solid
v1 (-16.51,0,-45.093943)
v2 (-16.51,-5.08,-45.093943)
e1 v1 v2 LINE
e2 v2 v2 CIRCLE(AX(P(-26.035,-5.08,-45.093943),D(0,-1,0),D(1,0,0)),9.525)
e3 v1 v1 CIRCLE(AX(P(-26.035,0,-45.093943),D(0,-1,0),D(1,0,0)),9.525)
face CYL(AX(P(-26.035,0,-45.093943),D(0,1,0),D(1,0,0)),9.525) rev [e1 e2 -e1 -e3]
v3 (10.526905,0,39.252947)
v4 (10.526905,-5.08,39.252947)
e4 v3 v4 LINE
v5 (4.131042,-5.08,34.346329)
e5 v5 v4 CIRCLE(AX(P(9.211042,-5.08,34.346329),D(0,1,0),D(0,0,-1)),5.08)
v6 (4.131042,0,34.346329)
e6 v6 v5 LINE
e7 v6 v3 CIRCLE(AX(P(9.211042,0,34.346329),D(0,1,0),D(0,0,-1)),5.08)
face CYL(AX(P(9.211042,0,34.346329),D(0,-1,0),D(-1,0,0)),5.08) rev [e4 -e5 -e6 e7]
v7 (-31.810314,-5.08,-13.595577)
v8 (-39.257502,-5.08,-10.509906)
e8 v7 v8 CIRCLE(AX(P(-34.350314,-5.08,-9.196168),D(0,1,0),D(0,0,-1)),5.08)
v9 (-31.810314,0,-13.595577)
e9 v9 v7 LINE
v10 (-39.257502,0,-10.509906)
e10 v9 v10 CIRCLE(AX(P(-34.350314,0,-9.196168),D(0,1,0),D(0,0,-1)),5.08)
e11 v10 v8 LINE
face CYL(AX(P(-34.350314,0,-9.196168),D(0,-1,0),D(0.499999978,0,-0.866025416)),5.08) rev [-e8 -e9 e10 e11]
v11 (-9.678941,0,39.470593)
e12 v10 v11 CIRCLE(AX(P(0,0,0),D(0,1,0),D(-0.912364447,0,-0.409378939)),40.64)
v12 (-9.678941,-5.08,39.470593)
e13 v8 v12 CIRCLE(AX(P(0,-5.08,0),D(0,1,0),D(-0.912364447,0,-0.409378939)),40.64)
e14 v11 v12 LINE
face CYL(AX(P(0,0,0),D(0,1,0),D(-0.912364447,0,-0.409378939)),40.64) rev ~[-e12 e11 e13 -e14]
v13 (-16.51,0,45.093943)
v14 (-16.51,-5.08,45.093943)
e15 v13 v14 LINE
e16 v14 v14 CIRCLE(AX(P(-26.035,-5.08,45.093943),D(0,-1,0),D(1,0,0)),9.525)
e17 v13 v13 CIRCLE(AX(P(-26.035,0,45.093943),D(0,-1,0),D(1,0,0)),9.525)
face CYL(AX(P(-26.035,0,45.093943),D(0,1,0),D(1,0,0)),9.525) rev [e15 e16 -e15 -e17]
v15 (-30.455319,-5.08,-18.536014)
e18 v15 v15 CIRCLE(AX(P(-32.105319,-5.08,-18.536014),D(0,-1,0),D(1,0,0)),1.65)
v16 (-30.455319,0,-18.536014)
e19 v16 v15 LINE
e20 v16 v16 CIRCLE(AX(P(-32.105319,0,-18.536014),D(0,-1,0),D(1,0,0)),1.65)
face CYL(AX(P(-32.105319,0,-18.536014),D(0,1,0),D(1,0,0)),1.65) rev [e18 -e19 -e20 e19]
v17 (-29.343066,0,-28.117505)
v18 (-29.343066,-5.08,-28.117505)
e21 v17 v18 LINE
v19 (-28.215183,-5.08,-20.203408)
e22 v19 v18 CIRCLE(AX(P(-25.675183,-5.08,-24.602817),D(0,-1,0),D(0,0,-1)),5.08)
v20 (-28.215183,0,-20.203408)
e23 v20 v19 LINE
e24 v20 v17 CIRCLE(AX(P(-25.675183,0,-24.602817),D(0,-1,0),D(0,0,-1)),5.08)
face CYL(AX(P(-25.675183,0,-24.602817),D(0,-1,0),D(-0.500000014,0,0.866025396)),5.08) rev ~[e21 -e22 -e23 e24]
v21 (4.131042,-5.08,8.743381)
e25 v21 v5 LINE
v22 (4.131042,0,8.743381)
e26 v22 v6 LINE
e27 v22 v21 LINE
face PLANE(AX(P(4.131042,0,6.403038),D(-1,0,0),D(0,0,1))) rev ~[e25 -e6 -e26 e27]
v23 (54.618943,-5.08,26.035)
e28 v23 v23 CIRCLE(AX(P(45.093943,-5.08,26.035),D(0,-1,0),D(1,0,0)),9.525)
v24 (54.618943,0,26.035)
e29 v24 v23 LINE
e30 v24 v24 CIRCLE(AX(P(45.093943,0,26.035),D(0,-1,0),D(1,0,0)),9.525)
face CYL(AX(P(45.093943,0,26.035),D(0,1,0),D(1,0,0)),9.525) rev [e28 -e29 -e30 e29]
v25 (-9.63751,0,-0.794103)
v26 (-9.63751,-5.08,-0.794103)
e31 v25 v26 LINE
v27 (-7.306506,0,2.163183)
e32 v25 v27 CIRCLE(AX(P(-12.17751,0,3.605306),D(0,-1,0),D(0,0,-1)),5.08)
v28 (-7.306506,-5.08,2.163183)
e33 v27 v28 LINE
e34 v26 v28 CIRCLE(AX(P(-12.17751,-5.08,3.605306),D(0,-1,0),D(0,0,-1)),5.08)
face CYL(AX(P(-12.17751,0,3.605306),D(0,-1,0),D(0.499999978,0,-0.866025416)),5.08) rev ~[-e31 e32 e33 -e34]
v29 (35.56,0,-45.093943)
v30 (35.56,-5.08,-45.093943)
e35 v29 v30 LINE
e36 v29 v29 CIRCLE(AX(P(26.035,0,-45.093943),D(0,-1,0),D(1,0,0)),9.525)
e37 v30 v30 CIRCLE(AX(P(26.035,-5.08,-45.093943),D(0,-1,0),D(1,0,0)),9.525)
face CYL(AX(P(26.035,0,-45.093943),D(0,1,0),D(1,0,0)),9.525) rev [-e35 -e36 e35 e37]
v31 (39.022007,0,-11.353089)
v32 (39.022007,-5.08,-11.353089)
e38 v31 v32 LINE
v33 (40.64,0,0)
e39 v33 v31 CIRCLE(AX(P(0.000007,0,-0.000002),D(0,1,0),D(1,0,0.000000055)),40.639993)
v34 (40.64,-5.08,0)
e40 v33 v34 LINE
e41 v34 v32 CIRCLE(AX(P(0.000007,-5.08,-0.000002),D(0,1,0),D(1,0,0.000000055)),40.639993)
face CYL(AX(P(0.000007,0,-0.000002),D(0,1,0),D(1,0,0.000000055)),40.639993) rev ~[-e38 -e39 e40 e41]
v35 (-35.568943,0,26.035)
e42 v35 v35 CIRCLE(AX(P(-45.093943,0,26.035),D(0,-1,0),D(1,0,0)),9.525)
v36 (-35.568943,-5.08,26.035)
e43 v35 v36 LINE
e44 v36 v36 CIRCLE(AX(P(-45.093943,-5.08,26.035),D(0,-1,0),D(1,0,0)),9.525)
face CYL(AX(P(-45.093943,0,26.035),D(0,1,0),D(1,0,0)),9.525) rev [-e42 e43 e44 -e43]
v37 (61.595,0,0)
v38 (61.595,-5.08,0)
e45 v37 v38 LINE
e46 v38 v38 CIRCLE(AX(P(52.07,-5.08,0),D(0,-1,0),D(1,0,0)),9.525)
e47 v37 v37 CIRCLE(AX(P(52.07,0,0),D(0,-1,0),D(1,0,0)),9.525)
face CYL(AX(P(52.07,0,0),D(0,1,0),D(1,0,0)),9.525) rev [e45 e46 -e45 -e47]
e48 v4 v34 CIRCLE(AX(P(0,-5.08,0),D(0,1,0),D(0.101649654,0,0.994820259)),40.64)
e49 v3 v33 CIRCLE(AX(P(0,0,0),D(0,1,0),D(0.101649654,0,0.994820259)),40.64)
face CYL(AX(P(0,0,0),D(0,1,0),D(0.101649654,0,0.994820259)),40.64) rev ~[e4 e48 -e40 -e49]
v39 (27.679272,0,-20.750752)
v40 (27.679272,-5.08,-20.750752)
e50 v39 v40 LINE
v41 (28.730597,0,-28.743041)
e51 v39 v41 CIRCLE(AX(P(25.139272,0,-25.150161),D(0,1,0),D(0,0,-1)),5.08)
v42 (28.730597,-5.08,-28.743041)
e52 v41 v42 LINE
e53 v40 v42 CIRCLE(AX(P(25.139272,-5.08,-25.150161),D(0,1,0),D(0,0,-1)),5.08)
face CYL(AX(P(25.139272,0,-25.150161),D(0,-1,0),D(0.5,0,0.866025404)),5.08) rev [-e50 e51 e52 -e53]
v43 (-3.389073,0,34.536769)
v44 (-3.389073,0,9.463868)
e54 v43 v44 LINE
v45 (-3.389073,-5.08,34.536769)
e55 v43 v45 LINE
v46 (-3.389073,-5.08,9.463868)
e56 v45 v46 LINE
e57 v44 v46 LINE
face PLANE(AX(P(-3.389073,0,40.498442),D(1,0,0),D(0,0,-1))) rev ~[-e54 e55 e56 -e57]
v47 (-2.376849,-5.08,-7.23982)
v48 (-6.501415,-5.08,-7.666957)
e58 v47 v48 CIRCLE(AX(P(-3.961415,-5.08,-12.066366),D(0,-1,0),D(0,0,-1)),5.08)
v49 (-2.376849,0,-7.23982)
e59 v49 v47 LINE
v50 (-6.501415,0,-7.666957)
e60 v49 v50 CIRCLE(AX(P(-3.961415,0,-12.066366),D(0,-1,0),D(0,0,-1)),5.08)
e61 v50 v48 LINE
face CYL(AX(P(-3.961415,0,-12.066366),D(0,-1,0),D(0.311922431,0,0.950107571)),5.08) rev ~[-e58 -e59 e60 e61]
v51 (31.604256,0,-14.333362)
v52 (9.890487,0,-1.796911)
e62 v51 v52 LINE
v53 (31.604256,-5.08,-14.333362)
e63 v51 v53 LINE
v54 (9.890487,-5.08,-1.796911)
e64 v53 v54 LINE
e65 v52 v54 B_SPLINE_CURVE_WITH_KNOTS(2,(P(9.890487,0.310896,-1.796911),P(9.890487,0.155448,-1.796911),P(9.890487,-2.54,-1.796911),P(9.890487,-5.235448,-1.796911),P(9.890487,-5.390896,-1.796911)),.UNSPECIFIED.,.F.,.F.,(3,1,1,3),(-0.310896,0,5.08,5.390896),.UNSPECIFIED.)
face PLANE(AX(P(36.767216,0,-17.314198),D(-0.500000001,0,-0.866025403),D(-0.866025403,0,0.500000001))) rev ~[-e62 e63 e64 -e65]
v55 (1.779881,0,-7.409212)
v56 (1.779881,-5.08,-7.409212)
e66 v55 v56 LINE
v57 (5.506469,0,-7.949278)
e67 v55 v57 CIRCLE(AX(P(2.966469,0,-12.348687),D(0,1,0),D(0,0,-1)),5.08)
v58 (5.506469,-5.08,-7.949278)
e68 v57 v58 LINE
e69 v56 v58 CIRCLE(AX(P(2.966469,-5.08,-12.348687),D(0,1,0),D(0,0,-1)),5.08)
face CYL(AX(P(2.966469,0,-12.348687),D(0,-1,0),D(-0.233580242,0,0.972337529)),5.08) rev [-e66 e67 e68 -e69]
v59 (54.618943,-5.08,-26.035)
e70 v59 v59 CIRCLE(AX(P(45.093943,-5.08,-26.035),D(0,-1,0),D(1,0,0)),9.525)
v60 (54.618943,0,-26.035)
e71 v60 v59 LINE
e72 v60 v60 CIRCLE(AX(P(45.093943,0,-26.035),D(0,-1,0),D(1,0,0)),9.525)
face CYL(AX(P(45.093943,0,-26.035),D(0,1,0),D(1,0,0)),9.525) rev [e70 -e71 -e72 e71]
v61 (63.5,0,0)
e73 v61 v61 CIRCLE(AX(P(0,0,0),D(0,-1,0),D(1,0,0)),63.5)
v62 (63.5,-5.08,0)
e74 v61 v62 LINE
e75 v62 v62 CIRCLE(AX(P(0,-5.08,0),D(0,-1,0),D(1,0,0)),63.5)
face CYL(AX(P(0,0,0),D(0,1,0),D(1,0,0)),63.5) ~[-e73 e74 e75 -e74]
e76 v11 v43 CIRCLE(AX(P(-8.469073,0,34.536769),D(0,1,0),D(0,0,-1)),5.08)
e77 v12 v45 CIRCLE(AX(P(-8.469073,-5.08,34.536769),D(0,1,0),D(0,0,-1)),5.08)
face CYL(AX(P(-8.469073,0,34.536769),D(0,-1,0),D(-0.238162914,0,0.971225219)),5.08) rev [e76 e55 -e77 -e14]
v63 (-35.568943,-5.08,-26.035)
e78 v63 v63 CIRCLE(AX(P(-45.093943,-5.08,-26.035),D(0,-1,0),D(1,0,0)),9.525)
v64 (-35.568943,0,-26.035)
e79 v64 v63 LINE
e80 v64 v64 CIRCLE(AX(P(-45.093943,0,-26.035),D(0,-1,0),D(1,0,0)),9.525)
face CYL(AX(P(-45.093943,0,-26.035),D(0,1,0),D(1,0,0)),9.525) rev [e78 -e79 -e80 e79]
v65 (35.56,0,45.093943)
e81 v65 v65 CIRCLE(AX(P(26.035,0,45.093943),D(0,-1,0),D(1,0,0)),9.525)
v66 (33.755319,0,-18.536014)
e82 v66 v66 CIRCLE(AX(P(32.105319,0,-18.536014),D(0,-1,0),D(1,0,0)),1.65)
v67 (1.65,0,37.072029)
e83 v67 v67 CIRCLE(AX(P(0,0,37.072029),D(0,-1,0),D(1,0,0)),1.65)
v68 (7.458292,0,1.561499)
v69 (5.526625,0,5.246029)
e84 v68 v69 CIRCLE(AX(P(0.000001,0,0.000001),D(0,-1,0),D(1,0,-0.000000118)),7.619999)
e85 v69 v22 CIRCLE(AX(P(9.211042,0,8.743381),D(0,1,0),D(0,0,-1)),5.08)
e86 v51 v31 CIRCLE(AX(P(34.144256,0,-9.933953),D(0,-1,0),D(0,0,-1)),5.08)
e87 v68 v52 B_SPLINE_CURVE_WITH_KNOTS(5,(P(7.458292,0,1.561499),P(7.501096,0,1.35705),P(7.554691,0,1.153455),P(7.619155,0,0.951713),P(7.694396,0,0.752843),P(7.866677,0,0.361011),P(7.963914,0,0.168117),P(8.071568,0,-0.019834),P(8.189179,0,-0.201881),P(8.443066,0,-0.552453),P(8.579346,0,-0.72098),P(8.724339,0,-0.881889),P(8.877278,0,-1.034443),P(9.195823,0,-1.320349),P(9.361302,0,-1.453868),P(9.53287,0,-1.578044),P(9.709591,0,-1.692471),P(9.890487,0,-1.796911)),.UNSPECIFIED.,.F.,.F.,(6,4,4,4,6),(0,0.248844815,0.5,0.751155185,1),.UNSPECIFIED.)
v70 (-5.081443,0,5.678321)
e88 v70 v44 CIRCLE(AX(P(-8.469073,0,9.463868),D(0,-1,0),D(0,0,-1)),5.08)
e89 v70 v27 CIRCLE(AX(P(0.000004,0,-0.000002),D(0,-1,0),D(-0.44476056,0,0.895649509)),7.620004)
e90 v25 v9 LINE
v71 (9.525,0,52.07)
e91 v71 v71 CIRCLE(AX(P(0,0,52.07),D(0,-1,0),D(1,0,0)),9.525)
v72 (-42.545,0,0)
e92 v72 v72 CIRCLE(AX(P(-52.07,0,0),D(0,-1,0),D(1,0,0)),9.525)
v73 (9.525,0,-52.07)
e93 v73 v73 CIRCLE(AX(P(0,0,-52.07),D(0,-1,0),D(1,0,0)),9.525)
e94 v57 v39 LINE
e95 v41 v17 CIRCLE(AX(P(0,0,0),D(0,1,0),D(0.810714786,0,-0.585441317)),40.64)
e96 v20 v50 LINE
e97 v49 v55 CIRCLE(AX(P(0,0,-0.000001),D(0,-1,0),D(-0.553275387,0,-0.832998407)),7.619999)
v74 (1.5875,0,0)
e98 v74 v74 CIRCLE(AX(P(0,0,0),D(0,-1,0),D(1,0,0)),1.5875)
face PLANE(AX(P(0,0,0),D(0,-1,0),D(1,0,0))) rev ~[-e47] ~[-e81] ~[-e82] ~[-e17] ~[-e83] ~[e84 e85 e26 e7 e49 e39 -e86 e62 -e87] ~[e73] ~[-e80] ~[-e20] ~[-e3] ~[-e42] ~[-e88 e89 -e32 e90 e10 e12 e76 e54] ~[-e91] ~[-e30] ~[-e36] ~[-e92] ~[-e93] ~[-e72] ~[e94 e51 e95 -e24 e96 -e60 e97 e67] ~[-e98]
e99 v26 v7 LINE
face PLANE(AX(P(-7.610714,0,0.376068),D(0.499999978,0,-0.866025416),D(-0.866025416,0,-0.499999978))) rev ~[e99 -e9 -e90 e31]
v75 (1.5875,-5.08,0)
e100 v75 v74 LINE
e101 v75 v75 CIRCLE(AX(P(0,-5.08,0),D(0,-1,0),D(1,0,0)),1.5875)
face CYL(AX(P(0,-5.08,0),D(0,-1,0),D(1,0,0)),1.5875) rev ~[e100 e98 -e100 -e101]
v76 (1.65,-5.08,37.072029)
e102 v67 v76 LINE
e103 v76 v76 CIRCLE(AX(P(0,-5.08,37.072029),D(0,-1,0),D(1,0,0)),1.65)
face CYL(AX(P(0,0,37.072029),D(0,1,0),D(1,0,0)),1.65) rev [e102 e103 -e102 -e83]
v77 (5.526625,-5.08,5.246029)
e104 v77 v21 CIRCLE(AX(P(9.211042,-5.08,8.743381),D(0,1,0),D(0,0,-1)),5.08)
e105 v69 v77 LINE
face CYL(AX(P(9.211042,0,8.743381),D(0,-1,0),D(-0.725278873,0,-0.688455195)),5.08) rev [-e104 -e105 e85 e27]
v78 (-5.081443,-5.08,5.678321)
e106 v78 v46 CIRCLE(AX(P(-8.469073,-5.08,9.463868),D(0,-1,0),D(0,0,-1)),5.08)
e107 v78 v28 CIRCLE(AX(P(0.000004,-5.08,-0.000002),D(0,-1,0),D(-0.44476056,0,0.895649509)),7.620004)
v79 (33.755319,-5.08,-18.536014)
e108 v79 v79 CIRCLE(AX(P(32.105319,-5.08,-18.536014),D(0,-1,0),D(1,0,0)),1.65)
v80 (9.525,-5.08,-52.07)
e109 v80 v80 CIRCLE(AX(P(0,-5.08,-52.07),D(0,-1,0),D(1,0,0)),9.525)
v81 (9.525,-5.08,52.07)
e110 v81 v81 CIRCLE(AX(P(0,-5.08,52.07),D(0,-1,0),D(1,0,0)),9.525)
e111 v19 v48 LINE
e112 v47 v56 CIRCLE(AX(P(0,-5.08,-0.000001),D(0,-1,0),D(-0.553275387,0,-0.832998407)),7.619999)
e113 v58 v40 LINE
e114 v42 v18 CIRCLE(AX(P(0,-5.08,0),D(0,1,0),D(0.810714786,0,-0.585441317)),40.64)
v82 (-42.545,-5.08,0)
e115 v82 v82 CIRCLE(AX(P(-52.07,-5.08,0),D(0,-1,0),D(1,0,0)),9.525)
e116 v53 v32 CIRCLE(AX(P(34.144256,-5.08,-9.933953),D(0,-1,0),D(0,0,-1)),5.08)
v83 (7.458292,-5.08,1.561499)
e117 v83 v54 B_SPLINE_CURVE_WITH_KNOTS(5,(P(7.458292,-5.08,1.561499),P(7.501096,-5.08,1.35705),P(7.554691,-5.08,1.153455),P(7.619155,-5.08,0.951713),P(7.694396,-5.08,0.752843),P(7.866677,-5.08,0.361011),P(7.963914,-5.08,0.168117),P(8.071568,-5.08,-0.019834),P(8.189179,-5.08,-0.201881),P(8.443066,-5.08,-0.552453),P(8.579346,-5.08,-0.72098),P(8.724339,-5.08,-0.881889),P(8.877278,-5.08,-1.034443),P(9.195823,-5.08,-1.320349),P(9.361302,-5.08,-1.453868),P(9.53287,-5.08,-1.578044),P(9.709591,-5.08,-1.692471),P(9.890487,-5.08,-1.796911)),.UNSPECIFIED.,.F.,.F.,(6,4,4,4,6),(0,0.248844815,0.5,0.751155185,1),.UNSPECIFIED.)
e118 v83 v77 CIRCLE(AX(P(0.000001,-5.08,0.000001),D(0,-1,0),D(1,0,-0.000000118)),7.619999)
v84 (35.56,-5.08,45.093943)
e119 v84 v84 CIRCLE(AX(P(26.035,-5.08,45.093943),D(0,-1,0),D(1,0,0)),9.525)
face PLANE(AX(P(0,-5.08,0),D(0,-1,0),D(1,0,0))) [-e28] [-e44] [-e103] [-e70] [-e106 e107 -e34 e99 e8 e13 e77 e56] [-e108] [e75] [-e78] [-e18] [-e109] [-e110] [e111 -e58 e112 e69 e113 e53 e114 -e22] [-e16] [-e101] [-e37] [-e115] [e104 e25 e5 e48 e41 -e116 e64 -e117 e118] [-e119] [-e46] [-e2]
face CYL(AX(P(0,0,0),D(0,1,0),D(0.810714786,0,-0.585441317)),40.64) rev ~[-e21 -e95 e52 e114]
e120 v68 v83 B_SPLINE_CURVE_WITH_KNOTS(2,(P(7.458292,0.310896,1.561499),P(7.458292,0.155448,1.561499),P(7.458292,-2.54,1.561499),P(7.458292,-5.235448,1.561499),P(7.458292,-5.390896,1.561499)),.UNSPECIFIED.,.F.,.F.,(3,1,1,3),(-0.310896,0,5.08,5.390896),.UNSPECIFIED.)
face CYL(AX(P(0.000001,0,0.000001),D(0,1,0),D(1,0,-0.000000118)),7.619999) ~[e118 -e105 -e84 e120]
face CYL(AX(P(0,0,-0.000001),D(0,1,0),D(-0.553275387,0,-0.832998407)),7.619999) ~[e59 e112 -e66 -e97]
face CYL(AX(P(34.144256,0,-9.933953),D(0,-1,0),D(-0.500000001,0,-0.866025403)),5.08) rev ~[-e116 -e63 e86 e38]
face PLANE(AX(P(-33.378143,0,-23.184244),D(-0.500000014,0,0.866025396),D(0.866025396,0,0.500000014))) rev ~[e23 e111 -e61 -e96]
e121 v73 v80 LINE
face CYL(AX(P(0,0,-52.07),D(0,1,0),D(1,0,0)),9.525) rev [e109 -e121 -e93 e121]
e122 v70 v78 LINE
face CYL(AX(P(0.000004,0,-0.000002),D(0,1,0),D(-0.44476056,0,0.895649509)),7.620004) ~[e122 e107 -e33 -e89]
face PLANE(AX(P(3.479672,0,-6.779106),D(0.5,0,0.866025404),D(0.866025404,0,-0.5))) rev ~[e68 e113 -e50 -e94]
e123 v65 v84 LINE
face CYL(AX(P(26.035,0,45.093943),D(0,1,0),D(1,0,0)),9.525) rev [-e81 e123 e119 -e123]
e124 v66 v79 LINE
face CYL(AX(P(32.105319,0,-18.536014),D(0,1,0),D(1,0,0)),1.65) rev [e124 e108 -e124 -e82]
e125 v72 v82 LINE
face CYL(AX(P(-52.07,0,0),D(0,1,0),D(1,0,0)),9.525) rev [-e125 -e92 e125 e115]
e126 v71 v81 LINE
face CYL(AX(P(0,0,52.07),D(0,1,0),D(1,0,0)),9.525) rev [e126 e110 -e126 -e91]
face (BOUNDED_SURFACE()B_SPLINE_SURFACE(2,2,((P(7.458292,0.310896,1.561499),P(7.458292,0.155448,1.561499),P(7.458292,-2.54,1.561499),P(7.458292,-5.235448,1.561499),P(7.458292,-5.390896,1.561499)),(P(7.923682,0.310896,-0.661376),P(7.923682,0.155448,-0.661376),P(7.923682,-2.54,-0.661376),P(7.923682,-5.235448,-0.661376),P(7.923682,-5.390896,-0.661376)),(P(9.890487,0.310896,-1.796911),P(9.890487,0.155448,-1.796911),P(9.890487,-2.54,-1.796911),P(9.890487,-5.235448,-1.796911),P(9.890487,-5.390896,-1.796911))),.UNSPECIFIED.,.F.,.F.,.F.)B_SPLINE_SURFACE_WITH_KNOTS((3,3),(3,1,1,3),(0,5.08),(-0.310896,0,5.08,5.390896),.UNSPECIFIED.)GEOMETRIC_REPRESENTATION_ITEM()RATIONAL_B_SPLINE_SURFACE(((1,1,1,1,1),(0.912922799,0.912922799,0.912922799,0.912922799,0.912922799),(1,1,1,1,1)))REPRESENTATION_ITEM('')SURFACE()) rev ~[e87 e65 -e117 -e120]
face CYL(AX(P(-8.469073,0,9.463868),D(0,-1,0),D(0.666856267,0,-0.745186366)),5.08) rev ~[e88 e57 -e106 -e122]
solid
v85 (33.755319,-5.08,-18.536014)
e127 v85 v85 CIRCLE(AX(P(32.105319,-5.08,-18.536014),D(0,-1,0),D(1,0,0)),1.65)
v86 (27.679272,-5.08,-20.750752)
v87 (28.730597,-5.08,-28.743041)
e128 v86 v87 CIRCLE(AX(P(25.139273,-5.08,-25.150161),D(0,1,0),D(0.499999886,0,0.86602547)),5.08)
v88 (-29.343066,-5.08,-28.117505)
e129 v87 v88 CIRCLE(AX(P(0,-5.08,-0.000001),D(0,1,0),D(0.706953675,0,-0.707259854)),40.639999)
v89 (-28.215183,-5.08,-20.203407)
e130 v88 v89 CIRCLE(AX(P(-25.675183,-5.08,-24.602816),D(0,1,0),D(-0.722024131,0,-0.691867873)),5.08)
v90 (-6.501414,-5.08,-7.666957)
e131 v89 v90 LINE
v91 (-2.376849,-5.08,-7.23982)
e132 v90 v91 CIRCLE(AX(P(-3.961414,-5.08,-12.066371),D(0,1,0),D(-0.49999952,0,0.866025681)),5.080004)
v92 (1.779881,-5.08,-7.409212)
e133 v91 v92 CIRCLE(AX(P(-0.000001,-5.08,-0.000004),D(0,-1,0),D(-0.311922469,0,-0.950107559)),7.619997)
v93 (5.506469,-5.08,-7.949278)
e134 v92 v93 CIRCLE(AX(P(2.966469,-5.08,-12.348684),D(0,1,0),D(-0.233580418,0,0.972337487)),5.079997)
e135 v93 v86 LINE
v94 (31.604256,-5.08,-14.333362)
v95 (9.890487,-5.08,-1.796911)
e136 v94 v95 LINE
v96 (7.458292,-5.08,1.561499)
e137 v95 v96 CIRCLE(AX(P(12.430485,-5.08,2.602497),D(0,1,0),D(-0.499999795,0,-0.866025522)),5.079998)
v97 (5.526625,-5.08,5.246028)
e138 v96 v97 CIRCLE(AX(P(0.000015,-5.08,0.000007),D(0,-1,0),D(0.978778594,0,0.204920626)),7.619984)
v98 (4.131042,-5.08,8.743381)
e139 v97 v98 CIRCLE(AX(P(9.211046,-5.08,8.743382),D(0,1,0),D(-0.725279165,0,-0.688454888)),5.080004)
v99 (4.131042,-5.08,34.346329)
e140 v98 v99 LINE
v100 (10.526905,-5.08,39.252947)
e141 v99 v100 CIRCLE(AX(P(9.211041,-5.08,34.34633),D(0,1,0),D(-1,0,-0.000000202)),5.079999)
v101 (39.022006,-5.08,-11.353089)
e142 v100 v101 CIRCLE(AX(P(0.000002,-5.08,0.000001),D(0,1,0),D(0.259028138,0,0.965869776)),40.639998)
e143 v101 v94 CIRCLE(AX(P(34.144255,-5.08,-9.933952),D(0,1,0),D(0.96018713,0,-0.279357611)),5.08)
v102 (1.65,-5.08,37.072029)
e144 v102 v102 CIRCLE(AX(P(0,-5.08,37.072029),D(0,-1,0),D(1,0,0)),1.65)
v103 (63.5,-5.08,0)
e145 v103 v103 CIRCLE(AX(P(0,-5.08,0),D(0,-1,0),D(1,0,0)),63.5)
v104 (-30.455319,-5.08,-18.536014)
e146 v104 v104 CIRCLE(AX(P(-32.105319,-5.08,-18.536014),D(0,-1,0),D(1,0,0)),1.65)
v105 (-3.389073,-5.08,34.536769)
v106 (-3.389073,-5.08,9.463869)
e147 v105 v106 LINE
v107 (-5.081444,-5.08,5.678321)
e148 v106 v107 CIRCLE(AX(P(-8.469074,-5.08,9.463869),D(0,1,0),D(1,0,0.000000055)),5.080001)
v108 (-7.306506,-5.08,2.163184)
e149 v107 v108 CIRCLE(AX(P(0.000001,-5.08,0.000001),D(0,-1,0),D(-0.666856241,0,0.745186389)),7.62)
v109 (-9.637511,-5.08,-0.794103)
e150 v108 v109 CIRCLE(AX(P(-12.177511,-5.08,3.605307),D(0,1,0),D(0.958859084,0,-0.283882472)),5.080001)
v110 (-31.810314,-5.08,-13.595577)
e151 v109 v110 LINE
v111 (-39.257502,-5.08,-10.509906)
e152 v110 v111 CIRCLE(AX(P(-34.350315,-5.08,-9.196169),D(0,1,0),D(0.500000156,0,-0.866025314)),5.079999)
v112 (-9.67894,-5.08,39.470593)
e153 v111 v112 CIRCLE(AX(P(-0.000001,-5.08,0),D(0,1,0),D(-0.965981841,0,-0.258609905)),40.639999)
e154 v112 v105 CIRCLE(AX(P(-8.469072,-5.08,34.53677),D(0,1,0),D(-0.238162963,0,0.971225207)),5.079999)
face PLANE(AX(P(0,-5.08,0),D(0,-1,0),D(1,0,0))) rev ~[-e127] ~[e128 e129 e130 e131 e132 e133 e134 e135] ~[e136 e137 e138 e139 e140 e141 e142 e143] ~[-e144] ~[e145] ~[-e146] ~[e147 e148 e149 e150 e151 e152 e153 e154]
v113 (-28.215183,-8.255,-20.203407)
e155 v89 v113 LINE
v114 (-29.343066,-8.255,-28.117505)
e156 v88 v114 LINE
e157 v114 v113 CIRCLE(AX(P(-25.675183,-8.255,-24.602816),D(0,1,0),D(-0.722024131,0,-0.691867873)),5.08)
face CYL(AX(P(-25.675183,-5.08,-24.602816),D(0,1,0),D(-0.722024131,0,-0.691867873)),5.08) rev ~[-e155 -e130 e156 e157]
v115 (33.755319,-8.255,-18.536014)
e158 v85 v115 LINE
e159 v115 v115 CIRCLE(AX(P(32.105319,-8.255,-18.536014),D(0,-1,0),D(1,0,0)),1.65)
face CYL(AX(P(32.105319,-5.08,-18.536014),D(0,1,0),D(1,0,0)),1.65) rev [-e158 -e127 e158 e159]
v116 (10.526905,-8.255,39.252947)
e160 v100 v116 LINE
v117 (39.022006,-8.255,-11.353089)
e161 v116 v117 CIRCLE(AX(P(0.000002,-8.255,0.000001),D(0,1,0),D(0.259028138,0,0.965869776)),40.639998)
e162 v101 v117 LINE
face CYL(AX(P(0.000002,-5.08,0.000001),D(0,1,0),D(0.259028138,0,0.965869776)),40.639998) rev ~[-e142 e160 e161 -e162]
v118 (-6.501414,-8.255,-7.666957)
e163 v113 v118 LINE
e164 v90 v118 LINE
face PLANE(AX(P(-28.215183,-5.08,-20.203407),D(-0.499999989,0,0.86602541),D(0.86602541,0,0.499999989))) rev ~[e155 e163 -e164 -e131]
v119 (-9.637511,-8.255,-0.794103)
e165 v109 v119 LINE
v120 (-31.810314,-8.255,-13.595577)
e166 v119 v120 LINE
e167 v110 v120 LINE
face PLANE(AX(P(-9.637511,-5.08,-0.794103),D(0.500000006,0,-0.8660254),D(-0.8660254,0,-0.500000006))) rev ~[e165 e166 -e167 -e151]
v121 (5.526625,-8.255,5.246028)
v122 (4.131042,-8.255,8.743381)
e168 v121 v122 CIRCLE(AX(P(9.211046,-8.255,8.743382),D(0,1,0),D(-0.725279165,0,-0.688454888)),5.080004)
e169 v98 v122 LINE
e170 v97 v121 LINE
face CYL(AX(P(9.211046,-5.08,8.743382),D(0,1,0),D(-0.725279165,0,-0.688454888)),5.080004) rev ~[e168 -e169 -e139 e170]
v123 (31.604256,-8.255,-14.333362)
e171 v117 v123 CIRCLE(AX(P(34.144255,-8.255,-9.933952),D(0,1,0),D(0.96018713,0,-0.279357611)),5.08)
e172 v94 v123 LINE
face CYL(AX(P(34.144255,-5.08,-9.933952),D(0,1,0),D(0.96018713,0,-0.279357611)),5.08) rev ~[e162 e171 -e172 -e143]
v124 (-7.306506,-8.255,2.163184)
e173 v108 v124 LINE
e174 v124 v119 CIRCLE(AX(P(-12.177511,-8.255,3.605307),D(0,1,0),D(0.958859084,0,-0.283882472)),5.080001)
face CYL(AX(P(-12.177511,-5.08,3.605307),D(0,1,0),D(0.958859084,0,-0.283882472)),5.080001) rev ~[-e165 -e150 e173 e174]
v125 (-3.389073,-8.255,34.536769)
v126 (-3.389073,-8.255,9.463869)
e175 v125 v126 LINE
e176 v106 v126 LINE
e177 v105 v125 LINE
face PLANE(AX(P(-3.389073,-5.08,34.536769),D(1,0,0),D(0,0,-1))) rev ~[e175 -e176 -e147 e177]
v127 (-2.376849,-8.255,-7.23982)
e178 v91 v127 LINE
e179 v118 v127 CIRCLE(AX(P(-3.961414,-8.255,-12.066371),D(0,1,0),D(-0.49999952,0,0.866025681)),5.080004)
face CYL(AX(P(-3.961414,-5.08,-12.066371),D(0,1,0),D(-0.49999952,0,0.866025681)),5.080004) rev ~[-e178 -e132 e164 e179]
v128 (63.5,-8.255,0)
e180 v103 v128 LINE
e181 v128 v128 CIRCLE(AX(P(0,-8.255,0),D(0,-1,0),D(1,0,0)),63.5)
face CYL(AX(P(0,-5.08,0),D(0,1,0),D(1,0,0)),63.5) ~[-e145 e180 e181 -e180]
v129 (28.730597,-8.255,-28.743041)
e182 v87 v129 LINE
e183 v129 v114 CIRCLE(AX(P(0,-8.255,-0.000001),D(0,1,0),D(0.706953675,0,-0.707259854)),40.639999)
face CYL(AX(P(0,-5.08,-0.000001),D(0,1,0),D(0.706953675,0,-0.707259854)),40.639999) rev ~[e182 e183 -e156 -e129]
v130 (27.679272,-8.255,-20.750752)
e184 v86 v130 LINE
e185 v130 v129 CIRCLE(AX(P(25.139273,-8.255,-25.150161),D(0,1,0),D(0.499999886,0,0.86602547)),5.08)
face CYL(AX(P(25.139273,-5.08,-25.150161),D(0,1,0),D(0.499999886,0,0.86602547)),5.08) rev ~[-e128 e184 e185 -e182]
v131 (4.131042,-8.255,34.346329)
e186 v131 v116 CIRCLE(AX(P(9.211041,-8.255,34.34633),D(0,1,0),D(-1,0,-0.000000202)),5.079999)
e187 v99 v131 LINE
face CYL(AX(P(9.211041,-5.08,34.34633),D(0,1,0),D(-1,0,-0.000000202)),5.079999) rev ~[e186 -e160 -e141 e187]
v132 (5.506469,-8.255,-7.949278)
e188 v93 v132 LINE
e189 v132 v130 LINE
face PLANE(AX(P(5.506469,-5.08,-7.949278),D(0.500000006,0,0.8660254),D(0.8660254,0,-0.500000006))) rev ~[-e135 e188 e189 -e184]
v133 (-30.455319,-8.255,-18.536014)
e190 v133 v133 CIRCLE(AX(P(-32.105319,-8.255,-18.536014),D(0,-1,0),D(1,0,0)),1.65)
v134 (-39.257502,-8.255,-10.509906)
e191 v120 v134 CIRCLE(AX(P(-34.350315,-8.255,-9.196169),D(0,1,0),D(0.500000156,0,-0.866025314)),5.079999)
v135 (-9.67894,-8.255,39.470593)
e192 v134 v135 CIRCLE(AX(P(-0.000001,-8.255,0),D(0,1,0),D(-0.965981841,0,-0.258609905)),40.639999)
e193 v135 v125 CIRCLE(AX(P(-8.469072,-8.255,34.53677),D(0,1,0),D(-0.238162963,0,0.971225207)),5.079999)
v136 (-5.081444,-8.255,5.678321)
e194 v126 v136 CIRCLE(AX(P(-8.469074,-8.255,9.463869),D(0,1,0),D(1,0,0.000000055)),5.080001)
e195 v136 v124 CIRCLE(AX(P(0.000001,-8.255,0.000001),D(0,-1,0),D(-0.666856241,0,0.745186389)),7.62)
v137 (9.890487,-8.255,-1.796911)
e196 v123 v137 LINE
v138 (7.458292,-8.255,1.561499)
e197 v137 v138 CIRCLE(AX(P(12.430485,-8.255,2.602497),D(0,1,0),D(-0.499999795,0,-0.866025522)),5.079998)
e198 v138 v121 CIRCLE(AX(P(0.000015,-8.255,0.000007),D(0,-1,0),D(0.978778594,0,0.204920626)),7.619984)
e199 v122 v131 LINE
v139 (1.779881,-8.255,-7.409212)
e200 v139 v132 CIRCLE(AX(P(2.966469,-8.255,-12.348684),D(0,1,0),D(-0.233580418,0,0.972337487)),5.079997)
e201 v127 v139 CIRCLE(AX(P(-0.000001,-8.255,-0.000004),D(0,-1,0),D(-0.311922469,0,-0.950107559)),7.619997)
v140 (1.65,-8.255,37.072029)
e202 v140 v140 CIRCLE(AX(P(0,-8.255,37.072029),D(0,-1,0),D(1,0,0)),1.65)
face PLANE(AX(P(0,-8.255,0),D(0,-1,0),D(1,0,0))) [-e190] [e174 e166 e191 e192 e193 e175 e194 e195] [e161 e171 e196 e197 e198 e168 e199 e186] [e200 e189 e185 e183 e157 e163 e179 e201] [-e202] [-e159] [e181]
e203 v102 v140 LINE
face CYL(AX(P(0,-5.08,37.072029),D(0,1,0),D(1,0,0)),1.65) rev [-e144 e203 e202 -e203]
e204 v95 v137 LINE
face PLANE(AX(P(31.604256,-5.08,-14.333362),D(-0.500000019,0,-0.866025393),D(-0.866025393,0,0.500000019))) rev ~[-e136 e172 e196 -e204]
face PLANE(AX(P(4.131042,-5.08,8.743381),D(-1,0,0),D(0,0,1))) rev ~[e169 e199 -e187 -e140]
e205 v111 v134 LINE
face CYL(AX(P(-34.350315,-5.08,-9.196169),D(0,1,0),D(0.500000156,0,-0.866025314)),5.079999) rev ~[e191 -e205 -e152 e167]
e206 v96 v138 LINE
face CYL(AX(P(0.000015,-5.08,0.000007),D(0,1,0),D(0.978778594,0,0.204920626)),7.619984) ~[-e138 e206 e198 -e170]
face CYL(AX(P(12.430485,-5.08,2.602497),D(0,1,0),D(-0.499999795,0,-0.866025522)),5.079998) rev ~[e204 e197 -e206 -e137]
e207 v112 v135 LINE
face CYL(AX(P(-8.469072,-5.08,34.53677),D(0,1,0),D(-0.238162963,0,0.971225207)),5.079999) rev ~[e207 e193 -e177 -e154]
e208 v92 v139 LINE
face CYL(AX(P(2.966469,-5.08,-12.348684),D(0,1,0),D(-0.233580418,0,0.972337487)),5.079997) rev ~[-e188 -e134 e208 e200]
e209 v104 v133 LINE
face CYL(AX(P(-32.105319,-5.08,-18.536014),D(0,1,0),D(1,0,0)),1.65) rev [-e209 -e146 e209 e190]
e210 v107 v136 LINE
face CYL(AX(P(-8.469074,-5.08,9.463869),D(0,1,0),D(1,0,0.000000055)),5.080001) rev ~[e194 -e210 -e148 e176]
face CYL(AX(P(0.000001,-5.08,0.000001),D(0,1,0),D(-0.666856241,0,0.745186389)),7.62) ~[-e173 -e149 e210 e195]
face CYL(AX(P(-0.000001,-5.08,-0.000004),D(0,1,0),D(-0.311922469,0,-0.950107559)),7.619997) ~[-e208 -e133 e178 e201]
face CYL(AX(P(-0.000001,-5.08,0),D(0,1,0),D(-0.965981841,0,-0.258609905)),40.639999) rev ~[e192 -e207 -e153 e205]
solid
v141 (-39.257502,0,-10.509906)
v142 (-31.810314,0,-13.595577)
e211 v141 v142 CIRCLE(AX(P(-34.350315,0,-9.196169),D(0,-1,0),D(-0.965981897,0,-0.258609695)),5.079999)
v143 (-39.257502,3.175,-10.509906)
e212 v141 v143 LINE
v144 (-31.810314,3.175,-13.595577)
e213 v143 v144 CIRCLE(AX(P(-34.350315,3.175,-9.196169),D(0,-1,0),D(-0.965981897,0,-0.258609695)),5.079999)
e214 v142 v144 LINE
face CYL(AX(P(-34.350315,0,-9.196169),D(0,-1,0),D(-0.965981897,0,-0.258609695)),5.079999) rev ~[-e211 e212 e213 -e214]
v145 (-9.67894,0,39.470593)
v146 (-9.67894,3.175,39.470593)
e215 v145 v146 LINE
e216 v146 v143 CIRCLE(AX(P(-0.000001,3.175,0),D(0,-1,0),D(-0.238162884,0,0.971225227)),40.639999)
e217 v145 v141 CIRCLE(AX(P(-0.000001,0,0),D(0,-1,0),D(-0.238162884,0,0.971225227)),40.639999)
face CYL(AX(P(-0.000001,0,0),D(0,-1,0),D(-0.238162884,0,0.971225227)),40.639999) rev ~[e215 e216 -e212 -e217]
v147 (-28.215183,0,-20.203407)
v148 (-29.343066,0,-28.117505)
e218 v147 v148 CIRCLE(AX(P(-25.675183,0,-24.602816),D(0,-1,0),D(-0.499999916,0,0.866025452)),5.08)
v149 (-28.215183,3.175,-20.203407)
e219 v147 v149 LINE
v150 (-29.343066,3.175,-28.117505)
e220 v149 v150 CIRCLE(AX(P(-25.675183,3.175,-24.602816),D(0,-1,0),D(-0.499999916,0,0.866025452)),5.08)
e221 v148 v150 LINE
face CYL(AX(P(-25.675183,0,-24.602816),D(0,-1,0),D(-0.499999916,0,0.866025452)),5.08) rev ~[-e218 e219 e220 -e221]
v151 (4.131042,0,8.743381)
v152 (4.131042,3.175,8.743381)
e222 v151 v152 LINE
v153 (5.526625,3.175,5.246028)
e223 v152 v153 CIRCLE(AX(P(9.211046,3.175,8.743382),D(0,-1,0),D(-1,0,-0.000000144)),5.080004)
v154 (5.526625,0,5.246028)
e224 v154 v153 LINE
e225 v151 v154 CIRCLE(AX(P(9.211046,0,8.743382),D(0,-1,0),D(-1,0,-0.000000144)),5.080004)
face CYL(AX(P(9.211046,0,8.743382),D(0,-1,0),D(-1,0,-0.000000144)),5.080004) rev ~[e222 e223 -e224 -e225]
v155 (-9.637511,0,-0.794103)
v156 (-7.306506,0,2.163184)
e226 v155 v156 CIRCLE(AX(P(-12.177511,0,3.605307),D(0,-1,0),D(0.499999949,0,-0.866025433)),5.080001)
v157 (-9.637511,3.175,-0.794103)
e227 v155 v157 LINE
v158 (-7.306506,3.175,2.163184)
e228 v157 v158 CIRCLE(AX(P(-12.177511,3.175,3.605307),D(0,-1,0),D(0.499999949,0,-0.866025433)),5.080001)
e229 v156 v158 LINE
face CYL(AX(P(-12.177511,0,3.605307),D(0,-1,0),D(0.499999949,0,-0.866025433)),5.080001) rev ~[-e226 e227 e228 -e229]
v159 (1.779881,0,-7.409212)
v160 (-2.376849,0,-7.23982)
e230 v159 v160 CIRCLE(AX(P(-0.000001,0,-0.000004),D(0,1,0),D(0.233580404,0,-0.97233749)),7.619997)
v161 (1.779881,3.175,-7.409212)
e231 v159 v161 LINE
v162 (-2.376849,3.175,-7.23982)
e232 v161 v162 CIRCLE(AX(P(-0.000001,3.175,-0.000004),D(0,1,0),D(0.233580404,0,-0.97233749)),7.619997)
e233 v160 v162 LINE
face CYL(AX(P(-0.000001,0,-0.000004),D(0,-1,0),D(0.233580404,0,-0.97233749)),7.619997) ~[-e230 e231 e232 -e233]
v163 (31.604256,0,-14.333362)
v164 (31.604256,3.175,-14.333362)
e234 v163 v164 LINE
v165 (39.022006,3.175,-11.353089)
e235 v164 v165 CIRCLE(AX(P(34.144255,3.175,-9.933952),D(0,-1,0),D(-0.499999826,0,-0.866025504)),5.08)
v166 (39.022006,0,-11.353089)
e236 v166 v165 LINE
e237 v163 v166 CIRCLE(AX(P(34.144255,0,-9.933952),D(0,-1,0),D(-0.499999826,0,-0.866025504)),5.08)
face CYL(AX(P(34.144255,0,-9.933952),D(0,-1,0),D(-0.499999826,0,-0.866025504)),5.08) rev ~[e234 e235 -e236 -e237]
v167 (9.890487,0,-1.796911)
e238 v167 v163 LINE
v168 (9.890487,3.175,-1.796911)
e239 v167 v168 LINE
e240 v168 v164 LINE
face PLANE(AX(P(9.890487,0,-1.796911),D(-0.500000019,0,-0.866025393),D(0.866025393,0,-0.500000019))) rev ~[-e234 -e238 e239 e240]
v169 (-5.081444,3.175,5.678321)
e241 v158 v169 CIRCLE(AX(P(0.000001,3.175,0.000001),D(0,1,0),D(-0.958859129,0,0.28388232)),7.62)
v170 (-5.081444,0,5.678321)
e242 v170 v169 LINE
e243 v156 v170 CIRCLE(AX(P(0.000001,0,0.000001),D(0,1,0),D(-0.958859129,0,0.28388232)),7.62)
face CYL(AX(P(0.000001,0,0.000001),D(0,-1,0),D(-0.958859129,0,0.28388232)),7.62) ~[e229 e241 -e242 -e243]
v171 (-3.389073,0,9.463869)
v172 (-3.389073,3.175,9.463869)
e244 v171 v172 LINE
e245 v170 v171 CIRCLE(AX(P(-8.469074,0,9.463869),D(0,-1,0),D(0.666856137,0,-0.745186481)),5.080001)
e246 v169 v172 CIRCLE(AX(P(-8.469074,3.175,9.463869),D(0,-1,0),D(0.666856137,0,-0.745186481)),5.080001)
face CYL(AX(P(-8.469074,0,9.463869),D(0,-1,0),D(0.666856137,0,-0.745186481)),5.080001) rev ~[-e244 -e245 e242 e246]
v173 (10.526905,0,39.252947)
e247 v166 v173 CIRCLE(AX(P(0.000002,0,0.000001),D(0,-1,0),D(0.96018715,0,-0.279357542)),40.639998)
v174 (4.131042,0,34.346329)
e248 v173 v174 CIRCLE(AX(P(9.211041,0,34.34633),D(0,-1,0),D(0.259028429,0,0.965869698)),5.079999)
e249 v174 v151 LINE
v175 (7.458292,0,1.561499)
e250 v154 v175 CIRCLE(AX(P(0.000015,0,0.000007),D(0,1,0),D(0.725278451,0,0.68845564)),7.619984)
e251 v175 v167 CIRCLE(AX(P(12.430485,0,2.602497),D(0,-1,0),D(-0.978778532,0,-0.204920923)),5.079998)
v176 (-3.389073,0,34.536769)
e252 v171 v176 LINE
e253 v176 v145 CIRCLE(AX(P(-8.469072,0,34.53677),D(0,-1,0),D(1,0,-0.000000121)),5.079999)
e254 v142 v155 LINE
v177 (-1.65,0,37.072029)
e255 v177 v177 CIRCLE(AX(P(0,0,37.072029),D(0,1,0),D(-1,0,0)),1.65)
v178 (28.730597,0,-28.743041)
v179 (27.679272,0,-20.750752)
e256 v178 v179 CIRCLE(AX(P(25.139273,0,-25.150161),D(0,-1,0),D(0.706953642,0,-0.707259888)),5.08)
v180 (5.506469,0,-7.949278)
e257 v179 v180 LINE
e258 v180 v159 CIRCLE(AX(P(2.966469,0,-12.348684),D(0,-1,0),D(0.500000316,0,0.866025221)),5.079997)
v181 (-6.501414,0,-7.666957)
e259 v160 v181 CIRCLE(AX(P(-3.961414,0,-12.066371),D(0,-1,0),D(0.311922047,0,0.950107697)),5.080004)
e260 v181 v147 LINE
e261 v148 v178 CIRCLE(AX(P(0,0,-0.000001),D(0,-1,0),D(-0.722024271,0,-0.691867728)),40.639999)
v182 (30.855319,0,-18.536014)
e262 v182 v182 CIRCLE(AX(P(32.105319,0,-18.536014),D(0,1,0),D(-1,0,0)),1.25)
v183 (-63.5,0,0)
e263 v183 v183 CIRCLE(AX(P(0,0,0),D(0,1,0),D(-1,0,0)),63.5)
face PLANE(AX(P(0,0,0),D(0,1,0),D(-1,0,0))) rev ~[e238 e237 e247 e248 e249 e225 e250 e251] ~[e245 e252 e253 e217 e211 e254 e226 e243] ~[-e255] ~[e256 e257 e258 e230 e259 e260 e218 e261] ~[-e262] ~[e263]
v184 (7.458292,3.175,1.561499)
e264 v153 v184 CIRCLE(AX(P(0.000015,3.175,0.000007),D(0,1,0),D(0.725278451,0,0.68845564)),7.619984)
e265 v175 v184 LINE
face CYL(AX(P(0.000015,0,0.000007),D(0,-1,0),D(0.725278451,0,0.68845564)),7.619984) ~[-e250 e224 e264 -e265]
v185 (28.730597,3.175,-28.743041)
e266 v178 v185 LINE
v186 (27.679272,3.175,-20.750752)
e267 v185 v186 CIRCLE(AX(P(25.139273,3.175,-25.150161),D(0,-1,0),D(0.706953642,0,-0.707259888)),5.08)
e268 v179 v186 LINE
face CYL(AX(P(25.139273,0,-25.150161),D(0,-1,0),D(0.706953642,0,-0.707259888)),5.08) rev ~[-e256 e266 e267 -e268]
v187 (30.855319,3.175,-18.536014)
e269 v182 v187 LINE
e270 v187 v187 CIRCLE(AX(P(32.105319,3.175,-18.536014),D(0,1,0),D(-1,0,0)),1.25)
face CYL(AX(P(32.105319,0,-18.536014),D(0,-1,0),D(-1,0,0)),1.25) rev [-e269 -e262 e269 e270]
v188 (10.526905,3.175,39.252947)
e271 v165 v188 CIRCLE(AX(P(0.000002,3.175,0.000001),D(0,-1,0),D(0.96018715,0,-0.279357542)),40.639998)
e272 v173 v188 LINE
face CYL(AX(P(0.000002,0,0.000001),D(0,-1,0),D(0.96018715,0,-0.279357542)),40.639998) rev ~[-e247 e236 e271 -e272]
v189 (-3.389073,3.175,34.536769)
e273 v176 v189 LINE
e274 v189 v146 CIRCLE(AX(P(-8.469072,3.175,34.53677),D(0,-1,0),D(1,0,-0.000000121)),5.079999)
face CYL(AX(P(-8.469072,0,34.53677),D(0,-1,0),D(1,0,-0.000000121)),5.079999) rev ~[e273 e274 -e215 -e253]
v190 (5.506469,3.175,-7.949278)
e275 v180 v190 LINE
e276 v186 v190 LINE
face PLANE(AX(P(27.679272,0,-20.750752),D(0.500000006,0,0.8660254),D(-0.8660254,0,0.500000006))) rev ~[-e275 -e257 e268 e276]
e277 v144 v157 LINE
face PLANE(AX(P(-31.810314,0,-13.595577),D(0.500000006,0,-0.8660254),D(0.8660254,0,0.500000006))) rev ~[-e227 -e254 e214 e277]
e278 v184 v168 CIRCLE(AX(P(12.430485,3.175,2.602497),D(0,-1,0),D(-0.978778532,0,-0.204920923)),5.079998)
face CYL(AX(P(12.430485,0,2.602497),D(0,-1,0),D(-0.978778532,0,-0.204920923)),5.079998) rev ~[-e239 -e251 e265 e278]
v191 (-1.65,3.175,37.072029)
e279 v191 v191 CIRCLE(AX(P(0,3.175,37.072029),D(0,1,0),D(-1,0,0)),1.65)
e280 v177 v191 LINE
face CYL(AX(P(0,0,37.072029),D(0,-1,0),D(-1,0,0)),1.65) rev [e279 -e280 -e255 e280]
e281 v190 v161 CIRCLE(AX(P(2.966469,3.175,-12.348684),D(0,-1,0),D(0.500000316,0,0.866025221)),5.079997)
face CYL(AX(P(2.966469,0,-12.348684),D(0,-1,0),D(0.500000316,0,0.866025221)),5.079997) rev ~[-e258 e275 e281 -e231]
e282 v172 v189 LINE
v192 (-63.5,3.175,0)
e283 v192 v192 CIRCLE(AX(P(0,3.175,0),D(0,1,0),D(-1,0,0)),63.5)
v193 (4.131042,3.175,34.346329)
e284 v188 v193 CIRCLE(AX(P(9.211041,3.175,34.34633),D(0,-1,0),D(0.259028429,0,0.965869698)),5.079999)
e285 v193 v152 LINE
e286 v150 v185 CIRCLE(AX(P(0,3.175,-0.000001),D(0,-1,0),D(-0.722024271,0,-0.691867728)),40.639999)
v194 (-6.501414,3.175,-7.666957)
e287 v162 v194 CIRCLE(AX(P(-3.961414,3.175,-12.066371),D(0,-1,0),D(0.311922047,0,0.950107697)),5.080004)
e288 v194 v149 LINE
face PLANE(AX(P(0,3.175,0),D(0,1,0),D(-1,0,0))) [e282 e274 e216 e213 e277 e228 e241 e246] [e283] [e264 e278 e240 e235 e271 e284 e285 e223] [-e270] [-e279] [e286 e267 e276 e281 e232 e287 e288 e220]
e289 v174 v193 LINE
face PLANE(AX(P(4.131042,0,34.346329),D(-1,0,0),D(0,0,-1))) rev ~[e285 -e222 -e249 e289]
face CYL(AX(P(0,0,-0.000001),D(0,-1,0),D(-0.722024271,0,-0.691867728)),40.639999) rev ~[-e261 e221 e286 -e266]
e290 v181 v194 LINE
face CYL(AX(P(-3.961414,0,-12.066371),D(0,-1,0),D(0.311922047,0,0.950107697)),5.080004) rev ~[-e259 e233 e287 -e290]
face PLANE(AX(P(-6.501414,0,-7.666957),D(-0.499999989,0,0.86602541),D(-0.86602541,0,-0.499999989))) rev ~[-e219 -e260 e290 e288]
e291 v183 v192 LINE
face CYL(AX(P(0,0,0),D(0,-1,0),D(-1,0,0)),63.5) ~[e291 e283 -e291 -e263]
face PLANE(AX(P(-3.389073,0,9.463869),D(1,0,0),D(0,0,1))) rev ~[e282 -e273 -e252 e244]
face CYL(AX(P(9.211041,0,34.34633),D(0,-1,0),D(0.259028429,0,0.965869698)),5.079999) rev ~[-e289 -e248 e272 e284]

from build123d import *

# Parameters (mm, degrees)
F0_R     = 63.5
F0_R_2   = 9.525
F0_R_3   = 1.65
F1_DEPTH = 5.08
F2_R     = 1.5875
F3_DEPTH = 25.4
F4_R     = 5.08
F5_R     = 63.5
F5_R_2   = 1.65
F6_DEPTH = 3.175
F7_R     = 63.5
F7_R_2   = 1.25
F7_R_3   = 1.65
F8_DEPTH = 3.175


with BuildPart() as f1:
    # F0 (on Front) → F1 (new body)
    with BuildSketch(Plane.XZ):
        Circle(F0_R)
        with Locations((-26.035, -45.093943)):
            Circle(F0_R_2, mode=Mode.SUBTRACT)
        with Locations((-45.093943, -26.035)):
            Circle(F0_R_2, mode=Mode.SUBTRACT)
        with Locations((0, -52.07)):
            Circle(F0_R_2, mode=Mode.SUBTRACT)
        with Locations((26.035, -45.093943)):
            Circle(F0_R_2, mode=Mode.SUBTRACT)
        with Locations((45.093943, -26.035)):
            Circle(F0_R_2, mode=Mode.SUBTRACT)
        with Locations((-52.07, 0)):
            Circle(F0_R_2, mode=Mode.SUBTRACT)
        with Locations((-45.093943, 26.035)):
            Circle(F0_R_2, mode=Mode.SUBTRACT)
        with Locations((-26.035, 45.093943)):
            Circle(F0_R_2, mode=Mode.SUBTRACT)
        with BuildLine():
            ThreePointArc((4.131042, 40.429495), (30.162022, 27.237144), (40.64, 0))
            ThreePointArc((40.64, 0), (39.659988, -8.871019), (36.767216, -17.314198))
            ThreePointArc((36.767216, -17.314198), (35.007502, -20.641812), (32.947449, -23.792335))
            ThreePointArc((32.947449, -23.792335), (-0.372583, -40.638292), (-33.378143, -23.184244))
            ThreePointArc((-33.378143, -23.184244), (-35.380085, -19.99648), (-37.078491, -16.63716))
            ThreePointArc((-37.078491, -16.63716), (-35.007502, 20.641812), (-3.389073, 40.498442))
            ThreePointArc((-3.389073, 40.498442), (0.372583, 40.638292), (4.131042, 40.429495))
        make_face(mode=Mode.SUBTRACT)
        with Locations((52.07, 0)):
            Circle(F0_R_2, mode=Mode.SUBTRACT)
        with Locations((45.093943, 26.035)):
            Circle(F0_R_2, mode=Mode.SUBTRACT)
        with Locations((26.035, 45.093943)):
            Circle(F0_R_2, mode=Mode.SUBTRACT)
        with Locations((0, 52.07)):
            Circle(F0_R_2, mode=Mode.SUBTRACT)
        with BuildLine():
            Line((4.131042, 6.403038), (4.131042, 40.429495))
            ThreePointArc((4.131042, 40.429495), (0.372583, 40.638292), (-3.389073, 40.498442))
            Line((-3.389073, 40.498442), (-3.389073, 14.423836))
            Line((-3.389073, 14.423836), (-3.389073, 6.824851))
            ThreePointArc((-3.389073, 6.824851), (0.426745, 7.608041), (4.131042, 6.403038))
        make_face()
        with Locations((0, 37.072029)):
            Circle(F0_R_3, mode=Mode.SUBTRACT)
        with BuildLine():
            ThreePointArc((7.62, 0), (6.691149, 3.645947), (4.131042, 6.403038))
            ThreePointArc((4.131042, 6.403038), (0.426745, 7.608041), (-3.389073, 6.824851))
            ThreePointArc((-3.389073, 6.824851), (-6.375384, 4.173592), (-7.610714, 0.376068))
            ThreePointArc((-7.610714, 0.376068), (-6.802129, -3.434449), (-4.215958, -6.347448))
            ThreePointArc((-4.215958, -6.347448), (-0.426745, -7.608041), (3.479672, -6.779106))
            ThreePointArc((3.479672, -6.779106), (6.375384, -4.173592), (7.60503, -0.477402))
            ThreePointArc((7.60503, -0.477402), (7.616257, -0.238819), (7.62, 0))
        make_face()
        with BuildLine():
            Line((-7.610714, 0.376068), (-37.078491, -16.63716))
            ThreePointArc((-37.078491, -16.63716), (-35.380085, -19.99648), (-33.378143, -23.184244))
            Line((-33.378143, -23.184244), (-4.215958, -6.347448))
            ThreePointArc((-4.215958, -6.347448), (-6.802129, -3.434449), (-7.610714, 0.376068))
        make_face()
        with Locations((-32.105319, -18.536014)):
            Circle(F0_R_3, mode=Mode.SUBTRACT)
        with BuildLine():
            ThreePointArc((32.947449, -23.792335), (35.007502, -20.641812), (36.767216, -17.314198))
            Line((36.767216, -17.314198), (7.60503, -0.477402))
            ThreePointArc((7.60503, -0.477402), (6.375384, -4.173592), (3.479672, -6.779106))
            Line((3.479672, -6.779106), (32.947449, -23.792335))
        make_face()
        with Locations((32.105319, -18.536014)):
            Circle(F0_R_3, mode=Mode.SUBTRACT)
    extrude(amount=F1_DEPTH)

    # F2 (on face) → F3 (cut)
    with BuildSketch(Plane.XZ.offset(5.08)):
        Circle(F2_R)
    extrude(amount=-F3_DEPTH, mode=Mode.SUBTRACT)

    # F4
    f4_edges = [f1.edges().sort_by_distance(p)[0] for p in [
        (-37.078491, -2.54, -16.63716),
        (-3.389073, -2.54, 40.498442),
        (-7.610714, -2.54, 0.376068),
        (-3.389073, -2.54, 6.824851),
        (-33.378143, -2.54, -23.184244),
        (-4.215958, -2.54, -6.347448),
        (3.479672, -2.54, -6.779106),
        (32.947449, -2.54, -23.792335),
        (36.767216, -2.54, -17.314198),
        (4.131042, -2.54, 6.403038),
        (7.60503, -2.54, -0.477402),
        (4.131042, -2.54, 40.429495),
    ]]
    fillet(f4_edges, radius=F4_R)


with BuildPart() as f6:
    # F5 (on face) → F6 (new body)
    with BuildSketch(Plane.XZ.offset(5.08)):
        Circle(F5_R)
        with Locations((-32.105319, -18.536014)):
            Circle(F5_R_2, mode=Mode.SUBTRACT)
        with BuildLine():
            ThreePointArc((1.779881, -7.409212), (3.695063, -7.321207), (5.506469, -7.949278))
            Line((5.506469, -7.949278), (27.679272, -20.750752))
            ThreePointArc((27.679272, -20.750752), (30.175884, -24.487633), (28.730597, -28.743041))
            ThreePointArc((28.730597, -28.743041), (-0.437725, -40.637643), (-29.343066, -28.117505))
            ThreePointArc((-29.343066, -28.117505), (-30.704367, -23.886079), (-28.215183, -20.203407))
            Line((-28.215183, -20.203407), (-6.501414, -7.666957))
            ThreePointArc((-6.501414, -7.666957), (-4.484697, -7.01339), (-2.376849, -7.23982))
            ThreePointArc((-2.376849, -7.23982), (-0.310267, -7.613681), (1.779881, -7.409212))
        make_face(mode=Mode.SUBTRACT)
        with Locations((32.105319, -18.536014)):
            Circle(F5_R_2, mode=Mode.SUBTRACT)
        with BuildLine():
            ThreePointArc((-39.257502, -10.509906), (-34.974368, 20.697903), (-9.67894, 39.470593))
            ThreePointArc((-9.67894, 39.470593), (-5.333768, 38.533801), (-3.389073, 34.536769))
            Line((-3.389073, 34.536769), (-3.389073, 9.463869))
            ThreePointArc((-3.389073, 9.463869), (-3.831425, 7.390557), (-5.081444, 5.678321))
            ThreePointArc((-5.081444, 5.678321), (-6.438507, 4.07554), (-7.306506, 2.163184))
            ThreePointArc((-7.306506, 2.163184), (-8.187883, 0.460585), (-9.637511, -0.794103))
            Line((-9.637511, -0.794103), (-31.810314, -13.595577))
            ThreePointArc((-31.810314, -13.595577), (-36.294854, -13.889266), (-39.257502, -10.509906))
        make_face(mode=Mode.SUBTRACT)
        with BuildLine():
            Line((31.604256, -14.333362), (9.890487, -1.796911))
            ThreePointArc((9.890487, -1.796911), (8.316122, -0.377167), (7.458292, 1.561499))
            ThreePointArc((7.458292, 1.561499), (6.748775, 3.538141), (5.526625, 5.246028))
            ThreePointArc((5.526625, 5.246028), (4.49282, 6.860622), (4.131042, 8.743381))
            Line((4.131042, 8.743381), (4.131042, 34.346329))
            ThreePointArc((4.131042, 34.346329), (6.11897, 38.376899), (10.526905, 39.252947))
            ThreePointArc((10.526905, 39.252947), (35.412094, 19.93974), (39.022006, -11.353089))
            ThreePointArc((39.022006, -11.353089), (36.038134, -14.647722), (31.604256, -14.333362))
        make_face(mode=Mode.SUBTRACT)
        with Locations((0, 37.072029)):
            Circle(F5_R_2, mode=Mode.SUBTRACT)
    extrude(amount=F6_DEPTH)


with BuildPart() as f8:
    # F7 (on face) → F8 (new body)
    with BuildSketch(Plane(origin=(0, 0, 0), x_dir=(-1, 0, 0), z_dir=(0, 1, 0))):
        Circle(F7_R)
        with Locations((-32.105319, -18.536014)):
            Circle(F7_R_2, mode=Mode.SUBTRACT)
        with BuildLine():
            Line((-27.679272, -20.750752), (-5.506469, -7.949278))
            ThreePointArc((-5.506469, -7.949278), (-3.695063, -7.321207), (-1.779881, -7.409212))
            ThreePointArc((-1.779881, -7.409212), (0.310267, -7.613681), (2.376849, -7.23982))
            ThreePointArc((2.376849, -7.23982), (4.484697, -7.01339), (6.501414, -7.666957))
            Line((6.501414, -7.666957), (28.215183, -20.203407))
            ThreePointArc((28.215183, -20.203407), (30.704367, -23.886079), (29.343066, -28.117505))
            ThreePointArc((29.343066, -28.117505), (0.437725, -40.637643), (-28.730597, -28.743041))
            ThreePointArc((-28.730597, -28.743041), (-30.175884, -24.487633), (-27.679272, -20.750752))
        make_face(mode=Mode.SUBTRACT)
        with BuildLine():
            Line((-4.131042, 34.346329), (-4.131042, 8.743381))
            ThreePointArc((-4.131042, 8.743381), (-4.49282, 6.860622), (-5.526625, 5.246028))
            ThreePointArc((-5.526625, 5.246028), (-6.748775, 3.538141), (-7.458292, 1.561499))
            ThreePointArc((-7.458292, 1.561499), (-8.316122, -0.377167), (-9.890487, -1.796911))
            Line((-9.890487, -1.796911), (-31.604256, -14.333362))
            ThreePointArc((-31.604256, -14.333362), (-36.038134, -14.647722), (-39.022006, -11.353089))
            ThreePointArc((-39.022006, -11.353089), (-35.412094, 19.93974), (-10.526905, 39.252947))
            ThreePointArc((-10.526905, 39.252947), (-6.11897, 38.376899), (-4.131042, 34.346329))
        make_face(mode=Mode.SUBTRACT)
        with BuildLine():
            ThreePointArc((5.081444, 5.678321), (3.831425, 7.390557), (3.389073, 9.463869))
            Line((3.389073, 9.463869), (3.389073, 34.536769))
            ThreePointArc((3.389073, 34.536769), (5.333768, 38.533801), (9.67894, 39.470593))
            ThreePointArc((9.67894, 39.470593), (34.974368, 20.697903), (39.257502, -10.509906))
            ThreePointArc((39.257502, -10.509906), (36.294854, -13.889266), (31.810314, -13.595577))
            Line((31.810314, -13.595577), (9.637511, -0.794103))
            ThreePointArc((9.637511, -0.794103), (8.187883, 0.460585), (7.306506, 2.163184))
            ThreePointArc((7.306506, 2.163184), (6.438507, 4.07554), (5.081444, 5.678321))
        make_face(mode=Mode.SUBTRACT)
        with Locations((0, 37.072029)):
            Circle(F7_R_3, mode=Mode.SUBTRACT)
    extrude(amount=F8_DEPTH)


solid = Compound([f1.part, f6.part, f8.part])
